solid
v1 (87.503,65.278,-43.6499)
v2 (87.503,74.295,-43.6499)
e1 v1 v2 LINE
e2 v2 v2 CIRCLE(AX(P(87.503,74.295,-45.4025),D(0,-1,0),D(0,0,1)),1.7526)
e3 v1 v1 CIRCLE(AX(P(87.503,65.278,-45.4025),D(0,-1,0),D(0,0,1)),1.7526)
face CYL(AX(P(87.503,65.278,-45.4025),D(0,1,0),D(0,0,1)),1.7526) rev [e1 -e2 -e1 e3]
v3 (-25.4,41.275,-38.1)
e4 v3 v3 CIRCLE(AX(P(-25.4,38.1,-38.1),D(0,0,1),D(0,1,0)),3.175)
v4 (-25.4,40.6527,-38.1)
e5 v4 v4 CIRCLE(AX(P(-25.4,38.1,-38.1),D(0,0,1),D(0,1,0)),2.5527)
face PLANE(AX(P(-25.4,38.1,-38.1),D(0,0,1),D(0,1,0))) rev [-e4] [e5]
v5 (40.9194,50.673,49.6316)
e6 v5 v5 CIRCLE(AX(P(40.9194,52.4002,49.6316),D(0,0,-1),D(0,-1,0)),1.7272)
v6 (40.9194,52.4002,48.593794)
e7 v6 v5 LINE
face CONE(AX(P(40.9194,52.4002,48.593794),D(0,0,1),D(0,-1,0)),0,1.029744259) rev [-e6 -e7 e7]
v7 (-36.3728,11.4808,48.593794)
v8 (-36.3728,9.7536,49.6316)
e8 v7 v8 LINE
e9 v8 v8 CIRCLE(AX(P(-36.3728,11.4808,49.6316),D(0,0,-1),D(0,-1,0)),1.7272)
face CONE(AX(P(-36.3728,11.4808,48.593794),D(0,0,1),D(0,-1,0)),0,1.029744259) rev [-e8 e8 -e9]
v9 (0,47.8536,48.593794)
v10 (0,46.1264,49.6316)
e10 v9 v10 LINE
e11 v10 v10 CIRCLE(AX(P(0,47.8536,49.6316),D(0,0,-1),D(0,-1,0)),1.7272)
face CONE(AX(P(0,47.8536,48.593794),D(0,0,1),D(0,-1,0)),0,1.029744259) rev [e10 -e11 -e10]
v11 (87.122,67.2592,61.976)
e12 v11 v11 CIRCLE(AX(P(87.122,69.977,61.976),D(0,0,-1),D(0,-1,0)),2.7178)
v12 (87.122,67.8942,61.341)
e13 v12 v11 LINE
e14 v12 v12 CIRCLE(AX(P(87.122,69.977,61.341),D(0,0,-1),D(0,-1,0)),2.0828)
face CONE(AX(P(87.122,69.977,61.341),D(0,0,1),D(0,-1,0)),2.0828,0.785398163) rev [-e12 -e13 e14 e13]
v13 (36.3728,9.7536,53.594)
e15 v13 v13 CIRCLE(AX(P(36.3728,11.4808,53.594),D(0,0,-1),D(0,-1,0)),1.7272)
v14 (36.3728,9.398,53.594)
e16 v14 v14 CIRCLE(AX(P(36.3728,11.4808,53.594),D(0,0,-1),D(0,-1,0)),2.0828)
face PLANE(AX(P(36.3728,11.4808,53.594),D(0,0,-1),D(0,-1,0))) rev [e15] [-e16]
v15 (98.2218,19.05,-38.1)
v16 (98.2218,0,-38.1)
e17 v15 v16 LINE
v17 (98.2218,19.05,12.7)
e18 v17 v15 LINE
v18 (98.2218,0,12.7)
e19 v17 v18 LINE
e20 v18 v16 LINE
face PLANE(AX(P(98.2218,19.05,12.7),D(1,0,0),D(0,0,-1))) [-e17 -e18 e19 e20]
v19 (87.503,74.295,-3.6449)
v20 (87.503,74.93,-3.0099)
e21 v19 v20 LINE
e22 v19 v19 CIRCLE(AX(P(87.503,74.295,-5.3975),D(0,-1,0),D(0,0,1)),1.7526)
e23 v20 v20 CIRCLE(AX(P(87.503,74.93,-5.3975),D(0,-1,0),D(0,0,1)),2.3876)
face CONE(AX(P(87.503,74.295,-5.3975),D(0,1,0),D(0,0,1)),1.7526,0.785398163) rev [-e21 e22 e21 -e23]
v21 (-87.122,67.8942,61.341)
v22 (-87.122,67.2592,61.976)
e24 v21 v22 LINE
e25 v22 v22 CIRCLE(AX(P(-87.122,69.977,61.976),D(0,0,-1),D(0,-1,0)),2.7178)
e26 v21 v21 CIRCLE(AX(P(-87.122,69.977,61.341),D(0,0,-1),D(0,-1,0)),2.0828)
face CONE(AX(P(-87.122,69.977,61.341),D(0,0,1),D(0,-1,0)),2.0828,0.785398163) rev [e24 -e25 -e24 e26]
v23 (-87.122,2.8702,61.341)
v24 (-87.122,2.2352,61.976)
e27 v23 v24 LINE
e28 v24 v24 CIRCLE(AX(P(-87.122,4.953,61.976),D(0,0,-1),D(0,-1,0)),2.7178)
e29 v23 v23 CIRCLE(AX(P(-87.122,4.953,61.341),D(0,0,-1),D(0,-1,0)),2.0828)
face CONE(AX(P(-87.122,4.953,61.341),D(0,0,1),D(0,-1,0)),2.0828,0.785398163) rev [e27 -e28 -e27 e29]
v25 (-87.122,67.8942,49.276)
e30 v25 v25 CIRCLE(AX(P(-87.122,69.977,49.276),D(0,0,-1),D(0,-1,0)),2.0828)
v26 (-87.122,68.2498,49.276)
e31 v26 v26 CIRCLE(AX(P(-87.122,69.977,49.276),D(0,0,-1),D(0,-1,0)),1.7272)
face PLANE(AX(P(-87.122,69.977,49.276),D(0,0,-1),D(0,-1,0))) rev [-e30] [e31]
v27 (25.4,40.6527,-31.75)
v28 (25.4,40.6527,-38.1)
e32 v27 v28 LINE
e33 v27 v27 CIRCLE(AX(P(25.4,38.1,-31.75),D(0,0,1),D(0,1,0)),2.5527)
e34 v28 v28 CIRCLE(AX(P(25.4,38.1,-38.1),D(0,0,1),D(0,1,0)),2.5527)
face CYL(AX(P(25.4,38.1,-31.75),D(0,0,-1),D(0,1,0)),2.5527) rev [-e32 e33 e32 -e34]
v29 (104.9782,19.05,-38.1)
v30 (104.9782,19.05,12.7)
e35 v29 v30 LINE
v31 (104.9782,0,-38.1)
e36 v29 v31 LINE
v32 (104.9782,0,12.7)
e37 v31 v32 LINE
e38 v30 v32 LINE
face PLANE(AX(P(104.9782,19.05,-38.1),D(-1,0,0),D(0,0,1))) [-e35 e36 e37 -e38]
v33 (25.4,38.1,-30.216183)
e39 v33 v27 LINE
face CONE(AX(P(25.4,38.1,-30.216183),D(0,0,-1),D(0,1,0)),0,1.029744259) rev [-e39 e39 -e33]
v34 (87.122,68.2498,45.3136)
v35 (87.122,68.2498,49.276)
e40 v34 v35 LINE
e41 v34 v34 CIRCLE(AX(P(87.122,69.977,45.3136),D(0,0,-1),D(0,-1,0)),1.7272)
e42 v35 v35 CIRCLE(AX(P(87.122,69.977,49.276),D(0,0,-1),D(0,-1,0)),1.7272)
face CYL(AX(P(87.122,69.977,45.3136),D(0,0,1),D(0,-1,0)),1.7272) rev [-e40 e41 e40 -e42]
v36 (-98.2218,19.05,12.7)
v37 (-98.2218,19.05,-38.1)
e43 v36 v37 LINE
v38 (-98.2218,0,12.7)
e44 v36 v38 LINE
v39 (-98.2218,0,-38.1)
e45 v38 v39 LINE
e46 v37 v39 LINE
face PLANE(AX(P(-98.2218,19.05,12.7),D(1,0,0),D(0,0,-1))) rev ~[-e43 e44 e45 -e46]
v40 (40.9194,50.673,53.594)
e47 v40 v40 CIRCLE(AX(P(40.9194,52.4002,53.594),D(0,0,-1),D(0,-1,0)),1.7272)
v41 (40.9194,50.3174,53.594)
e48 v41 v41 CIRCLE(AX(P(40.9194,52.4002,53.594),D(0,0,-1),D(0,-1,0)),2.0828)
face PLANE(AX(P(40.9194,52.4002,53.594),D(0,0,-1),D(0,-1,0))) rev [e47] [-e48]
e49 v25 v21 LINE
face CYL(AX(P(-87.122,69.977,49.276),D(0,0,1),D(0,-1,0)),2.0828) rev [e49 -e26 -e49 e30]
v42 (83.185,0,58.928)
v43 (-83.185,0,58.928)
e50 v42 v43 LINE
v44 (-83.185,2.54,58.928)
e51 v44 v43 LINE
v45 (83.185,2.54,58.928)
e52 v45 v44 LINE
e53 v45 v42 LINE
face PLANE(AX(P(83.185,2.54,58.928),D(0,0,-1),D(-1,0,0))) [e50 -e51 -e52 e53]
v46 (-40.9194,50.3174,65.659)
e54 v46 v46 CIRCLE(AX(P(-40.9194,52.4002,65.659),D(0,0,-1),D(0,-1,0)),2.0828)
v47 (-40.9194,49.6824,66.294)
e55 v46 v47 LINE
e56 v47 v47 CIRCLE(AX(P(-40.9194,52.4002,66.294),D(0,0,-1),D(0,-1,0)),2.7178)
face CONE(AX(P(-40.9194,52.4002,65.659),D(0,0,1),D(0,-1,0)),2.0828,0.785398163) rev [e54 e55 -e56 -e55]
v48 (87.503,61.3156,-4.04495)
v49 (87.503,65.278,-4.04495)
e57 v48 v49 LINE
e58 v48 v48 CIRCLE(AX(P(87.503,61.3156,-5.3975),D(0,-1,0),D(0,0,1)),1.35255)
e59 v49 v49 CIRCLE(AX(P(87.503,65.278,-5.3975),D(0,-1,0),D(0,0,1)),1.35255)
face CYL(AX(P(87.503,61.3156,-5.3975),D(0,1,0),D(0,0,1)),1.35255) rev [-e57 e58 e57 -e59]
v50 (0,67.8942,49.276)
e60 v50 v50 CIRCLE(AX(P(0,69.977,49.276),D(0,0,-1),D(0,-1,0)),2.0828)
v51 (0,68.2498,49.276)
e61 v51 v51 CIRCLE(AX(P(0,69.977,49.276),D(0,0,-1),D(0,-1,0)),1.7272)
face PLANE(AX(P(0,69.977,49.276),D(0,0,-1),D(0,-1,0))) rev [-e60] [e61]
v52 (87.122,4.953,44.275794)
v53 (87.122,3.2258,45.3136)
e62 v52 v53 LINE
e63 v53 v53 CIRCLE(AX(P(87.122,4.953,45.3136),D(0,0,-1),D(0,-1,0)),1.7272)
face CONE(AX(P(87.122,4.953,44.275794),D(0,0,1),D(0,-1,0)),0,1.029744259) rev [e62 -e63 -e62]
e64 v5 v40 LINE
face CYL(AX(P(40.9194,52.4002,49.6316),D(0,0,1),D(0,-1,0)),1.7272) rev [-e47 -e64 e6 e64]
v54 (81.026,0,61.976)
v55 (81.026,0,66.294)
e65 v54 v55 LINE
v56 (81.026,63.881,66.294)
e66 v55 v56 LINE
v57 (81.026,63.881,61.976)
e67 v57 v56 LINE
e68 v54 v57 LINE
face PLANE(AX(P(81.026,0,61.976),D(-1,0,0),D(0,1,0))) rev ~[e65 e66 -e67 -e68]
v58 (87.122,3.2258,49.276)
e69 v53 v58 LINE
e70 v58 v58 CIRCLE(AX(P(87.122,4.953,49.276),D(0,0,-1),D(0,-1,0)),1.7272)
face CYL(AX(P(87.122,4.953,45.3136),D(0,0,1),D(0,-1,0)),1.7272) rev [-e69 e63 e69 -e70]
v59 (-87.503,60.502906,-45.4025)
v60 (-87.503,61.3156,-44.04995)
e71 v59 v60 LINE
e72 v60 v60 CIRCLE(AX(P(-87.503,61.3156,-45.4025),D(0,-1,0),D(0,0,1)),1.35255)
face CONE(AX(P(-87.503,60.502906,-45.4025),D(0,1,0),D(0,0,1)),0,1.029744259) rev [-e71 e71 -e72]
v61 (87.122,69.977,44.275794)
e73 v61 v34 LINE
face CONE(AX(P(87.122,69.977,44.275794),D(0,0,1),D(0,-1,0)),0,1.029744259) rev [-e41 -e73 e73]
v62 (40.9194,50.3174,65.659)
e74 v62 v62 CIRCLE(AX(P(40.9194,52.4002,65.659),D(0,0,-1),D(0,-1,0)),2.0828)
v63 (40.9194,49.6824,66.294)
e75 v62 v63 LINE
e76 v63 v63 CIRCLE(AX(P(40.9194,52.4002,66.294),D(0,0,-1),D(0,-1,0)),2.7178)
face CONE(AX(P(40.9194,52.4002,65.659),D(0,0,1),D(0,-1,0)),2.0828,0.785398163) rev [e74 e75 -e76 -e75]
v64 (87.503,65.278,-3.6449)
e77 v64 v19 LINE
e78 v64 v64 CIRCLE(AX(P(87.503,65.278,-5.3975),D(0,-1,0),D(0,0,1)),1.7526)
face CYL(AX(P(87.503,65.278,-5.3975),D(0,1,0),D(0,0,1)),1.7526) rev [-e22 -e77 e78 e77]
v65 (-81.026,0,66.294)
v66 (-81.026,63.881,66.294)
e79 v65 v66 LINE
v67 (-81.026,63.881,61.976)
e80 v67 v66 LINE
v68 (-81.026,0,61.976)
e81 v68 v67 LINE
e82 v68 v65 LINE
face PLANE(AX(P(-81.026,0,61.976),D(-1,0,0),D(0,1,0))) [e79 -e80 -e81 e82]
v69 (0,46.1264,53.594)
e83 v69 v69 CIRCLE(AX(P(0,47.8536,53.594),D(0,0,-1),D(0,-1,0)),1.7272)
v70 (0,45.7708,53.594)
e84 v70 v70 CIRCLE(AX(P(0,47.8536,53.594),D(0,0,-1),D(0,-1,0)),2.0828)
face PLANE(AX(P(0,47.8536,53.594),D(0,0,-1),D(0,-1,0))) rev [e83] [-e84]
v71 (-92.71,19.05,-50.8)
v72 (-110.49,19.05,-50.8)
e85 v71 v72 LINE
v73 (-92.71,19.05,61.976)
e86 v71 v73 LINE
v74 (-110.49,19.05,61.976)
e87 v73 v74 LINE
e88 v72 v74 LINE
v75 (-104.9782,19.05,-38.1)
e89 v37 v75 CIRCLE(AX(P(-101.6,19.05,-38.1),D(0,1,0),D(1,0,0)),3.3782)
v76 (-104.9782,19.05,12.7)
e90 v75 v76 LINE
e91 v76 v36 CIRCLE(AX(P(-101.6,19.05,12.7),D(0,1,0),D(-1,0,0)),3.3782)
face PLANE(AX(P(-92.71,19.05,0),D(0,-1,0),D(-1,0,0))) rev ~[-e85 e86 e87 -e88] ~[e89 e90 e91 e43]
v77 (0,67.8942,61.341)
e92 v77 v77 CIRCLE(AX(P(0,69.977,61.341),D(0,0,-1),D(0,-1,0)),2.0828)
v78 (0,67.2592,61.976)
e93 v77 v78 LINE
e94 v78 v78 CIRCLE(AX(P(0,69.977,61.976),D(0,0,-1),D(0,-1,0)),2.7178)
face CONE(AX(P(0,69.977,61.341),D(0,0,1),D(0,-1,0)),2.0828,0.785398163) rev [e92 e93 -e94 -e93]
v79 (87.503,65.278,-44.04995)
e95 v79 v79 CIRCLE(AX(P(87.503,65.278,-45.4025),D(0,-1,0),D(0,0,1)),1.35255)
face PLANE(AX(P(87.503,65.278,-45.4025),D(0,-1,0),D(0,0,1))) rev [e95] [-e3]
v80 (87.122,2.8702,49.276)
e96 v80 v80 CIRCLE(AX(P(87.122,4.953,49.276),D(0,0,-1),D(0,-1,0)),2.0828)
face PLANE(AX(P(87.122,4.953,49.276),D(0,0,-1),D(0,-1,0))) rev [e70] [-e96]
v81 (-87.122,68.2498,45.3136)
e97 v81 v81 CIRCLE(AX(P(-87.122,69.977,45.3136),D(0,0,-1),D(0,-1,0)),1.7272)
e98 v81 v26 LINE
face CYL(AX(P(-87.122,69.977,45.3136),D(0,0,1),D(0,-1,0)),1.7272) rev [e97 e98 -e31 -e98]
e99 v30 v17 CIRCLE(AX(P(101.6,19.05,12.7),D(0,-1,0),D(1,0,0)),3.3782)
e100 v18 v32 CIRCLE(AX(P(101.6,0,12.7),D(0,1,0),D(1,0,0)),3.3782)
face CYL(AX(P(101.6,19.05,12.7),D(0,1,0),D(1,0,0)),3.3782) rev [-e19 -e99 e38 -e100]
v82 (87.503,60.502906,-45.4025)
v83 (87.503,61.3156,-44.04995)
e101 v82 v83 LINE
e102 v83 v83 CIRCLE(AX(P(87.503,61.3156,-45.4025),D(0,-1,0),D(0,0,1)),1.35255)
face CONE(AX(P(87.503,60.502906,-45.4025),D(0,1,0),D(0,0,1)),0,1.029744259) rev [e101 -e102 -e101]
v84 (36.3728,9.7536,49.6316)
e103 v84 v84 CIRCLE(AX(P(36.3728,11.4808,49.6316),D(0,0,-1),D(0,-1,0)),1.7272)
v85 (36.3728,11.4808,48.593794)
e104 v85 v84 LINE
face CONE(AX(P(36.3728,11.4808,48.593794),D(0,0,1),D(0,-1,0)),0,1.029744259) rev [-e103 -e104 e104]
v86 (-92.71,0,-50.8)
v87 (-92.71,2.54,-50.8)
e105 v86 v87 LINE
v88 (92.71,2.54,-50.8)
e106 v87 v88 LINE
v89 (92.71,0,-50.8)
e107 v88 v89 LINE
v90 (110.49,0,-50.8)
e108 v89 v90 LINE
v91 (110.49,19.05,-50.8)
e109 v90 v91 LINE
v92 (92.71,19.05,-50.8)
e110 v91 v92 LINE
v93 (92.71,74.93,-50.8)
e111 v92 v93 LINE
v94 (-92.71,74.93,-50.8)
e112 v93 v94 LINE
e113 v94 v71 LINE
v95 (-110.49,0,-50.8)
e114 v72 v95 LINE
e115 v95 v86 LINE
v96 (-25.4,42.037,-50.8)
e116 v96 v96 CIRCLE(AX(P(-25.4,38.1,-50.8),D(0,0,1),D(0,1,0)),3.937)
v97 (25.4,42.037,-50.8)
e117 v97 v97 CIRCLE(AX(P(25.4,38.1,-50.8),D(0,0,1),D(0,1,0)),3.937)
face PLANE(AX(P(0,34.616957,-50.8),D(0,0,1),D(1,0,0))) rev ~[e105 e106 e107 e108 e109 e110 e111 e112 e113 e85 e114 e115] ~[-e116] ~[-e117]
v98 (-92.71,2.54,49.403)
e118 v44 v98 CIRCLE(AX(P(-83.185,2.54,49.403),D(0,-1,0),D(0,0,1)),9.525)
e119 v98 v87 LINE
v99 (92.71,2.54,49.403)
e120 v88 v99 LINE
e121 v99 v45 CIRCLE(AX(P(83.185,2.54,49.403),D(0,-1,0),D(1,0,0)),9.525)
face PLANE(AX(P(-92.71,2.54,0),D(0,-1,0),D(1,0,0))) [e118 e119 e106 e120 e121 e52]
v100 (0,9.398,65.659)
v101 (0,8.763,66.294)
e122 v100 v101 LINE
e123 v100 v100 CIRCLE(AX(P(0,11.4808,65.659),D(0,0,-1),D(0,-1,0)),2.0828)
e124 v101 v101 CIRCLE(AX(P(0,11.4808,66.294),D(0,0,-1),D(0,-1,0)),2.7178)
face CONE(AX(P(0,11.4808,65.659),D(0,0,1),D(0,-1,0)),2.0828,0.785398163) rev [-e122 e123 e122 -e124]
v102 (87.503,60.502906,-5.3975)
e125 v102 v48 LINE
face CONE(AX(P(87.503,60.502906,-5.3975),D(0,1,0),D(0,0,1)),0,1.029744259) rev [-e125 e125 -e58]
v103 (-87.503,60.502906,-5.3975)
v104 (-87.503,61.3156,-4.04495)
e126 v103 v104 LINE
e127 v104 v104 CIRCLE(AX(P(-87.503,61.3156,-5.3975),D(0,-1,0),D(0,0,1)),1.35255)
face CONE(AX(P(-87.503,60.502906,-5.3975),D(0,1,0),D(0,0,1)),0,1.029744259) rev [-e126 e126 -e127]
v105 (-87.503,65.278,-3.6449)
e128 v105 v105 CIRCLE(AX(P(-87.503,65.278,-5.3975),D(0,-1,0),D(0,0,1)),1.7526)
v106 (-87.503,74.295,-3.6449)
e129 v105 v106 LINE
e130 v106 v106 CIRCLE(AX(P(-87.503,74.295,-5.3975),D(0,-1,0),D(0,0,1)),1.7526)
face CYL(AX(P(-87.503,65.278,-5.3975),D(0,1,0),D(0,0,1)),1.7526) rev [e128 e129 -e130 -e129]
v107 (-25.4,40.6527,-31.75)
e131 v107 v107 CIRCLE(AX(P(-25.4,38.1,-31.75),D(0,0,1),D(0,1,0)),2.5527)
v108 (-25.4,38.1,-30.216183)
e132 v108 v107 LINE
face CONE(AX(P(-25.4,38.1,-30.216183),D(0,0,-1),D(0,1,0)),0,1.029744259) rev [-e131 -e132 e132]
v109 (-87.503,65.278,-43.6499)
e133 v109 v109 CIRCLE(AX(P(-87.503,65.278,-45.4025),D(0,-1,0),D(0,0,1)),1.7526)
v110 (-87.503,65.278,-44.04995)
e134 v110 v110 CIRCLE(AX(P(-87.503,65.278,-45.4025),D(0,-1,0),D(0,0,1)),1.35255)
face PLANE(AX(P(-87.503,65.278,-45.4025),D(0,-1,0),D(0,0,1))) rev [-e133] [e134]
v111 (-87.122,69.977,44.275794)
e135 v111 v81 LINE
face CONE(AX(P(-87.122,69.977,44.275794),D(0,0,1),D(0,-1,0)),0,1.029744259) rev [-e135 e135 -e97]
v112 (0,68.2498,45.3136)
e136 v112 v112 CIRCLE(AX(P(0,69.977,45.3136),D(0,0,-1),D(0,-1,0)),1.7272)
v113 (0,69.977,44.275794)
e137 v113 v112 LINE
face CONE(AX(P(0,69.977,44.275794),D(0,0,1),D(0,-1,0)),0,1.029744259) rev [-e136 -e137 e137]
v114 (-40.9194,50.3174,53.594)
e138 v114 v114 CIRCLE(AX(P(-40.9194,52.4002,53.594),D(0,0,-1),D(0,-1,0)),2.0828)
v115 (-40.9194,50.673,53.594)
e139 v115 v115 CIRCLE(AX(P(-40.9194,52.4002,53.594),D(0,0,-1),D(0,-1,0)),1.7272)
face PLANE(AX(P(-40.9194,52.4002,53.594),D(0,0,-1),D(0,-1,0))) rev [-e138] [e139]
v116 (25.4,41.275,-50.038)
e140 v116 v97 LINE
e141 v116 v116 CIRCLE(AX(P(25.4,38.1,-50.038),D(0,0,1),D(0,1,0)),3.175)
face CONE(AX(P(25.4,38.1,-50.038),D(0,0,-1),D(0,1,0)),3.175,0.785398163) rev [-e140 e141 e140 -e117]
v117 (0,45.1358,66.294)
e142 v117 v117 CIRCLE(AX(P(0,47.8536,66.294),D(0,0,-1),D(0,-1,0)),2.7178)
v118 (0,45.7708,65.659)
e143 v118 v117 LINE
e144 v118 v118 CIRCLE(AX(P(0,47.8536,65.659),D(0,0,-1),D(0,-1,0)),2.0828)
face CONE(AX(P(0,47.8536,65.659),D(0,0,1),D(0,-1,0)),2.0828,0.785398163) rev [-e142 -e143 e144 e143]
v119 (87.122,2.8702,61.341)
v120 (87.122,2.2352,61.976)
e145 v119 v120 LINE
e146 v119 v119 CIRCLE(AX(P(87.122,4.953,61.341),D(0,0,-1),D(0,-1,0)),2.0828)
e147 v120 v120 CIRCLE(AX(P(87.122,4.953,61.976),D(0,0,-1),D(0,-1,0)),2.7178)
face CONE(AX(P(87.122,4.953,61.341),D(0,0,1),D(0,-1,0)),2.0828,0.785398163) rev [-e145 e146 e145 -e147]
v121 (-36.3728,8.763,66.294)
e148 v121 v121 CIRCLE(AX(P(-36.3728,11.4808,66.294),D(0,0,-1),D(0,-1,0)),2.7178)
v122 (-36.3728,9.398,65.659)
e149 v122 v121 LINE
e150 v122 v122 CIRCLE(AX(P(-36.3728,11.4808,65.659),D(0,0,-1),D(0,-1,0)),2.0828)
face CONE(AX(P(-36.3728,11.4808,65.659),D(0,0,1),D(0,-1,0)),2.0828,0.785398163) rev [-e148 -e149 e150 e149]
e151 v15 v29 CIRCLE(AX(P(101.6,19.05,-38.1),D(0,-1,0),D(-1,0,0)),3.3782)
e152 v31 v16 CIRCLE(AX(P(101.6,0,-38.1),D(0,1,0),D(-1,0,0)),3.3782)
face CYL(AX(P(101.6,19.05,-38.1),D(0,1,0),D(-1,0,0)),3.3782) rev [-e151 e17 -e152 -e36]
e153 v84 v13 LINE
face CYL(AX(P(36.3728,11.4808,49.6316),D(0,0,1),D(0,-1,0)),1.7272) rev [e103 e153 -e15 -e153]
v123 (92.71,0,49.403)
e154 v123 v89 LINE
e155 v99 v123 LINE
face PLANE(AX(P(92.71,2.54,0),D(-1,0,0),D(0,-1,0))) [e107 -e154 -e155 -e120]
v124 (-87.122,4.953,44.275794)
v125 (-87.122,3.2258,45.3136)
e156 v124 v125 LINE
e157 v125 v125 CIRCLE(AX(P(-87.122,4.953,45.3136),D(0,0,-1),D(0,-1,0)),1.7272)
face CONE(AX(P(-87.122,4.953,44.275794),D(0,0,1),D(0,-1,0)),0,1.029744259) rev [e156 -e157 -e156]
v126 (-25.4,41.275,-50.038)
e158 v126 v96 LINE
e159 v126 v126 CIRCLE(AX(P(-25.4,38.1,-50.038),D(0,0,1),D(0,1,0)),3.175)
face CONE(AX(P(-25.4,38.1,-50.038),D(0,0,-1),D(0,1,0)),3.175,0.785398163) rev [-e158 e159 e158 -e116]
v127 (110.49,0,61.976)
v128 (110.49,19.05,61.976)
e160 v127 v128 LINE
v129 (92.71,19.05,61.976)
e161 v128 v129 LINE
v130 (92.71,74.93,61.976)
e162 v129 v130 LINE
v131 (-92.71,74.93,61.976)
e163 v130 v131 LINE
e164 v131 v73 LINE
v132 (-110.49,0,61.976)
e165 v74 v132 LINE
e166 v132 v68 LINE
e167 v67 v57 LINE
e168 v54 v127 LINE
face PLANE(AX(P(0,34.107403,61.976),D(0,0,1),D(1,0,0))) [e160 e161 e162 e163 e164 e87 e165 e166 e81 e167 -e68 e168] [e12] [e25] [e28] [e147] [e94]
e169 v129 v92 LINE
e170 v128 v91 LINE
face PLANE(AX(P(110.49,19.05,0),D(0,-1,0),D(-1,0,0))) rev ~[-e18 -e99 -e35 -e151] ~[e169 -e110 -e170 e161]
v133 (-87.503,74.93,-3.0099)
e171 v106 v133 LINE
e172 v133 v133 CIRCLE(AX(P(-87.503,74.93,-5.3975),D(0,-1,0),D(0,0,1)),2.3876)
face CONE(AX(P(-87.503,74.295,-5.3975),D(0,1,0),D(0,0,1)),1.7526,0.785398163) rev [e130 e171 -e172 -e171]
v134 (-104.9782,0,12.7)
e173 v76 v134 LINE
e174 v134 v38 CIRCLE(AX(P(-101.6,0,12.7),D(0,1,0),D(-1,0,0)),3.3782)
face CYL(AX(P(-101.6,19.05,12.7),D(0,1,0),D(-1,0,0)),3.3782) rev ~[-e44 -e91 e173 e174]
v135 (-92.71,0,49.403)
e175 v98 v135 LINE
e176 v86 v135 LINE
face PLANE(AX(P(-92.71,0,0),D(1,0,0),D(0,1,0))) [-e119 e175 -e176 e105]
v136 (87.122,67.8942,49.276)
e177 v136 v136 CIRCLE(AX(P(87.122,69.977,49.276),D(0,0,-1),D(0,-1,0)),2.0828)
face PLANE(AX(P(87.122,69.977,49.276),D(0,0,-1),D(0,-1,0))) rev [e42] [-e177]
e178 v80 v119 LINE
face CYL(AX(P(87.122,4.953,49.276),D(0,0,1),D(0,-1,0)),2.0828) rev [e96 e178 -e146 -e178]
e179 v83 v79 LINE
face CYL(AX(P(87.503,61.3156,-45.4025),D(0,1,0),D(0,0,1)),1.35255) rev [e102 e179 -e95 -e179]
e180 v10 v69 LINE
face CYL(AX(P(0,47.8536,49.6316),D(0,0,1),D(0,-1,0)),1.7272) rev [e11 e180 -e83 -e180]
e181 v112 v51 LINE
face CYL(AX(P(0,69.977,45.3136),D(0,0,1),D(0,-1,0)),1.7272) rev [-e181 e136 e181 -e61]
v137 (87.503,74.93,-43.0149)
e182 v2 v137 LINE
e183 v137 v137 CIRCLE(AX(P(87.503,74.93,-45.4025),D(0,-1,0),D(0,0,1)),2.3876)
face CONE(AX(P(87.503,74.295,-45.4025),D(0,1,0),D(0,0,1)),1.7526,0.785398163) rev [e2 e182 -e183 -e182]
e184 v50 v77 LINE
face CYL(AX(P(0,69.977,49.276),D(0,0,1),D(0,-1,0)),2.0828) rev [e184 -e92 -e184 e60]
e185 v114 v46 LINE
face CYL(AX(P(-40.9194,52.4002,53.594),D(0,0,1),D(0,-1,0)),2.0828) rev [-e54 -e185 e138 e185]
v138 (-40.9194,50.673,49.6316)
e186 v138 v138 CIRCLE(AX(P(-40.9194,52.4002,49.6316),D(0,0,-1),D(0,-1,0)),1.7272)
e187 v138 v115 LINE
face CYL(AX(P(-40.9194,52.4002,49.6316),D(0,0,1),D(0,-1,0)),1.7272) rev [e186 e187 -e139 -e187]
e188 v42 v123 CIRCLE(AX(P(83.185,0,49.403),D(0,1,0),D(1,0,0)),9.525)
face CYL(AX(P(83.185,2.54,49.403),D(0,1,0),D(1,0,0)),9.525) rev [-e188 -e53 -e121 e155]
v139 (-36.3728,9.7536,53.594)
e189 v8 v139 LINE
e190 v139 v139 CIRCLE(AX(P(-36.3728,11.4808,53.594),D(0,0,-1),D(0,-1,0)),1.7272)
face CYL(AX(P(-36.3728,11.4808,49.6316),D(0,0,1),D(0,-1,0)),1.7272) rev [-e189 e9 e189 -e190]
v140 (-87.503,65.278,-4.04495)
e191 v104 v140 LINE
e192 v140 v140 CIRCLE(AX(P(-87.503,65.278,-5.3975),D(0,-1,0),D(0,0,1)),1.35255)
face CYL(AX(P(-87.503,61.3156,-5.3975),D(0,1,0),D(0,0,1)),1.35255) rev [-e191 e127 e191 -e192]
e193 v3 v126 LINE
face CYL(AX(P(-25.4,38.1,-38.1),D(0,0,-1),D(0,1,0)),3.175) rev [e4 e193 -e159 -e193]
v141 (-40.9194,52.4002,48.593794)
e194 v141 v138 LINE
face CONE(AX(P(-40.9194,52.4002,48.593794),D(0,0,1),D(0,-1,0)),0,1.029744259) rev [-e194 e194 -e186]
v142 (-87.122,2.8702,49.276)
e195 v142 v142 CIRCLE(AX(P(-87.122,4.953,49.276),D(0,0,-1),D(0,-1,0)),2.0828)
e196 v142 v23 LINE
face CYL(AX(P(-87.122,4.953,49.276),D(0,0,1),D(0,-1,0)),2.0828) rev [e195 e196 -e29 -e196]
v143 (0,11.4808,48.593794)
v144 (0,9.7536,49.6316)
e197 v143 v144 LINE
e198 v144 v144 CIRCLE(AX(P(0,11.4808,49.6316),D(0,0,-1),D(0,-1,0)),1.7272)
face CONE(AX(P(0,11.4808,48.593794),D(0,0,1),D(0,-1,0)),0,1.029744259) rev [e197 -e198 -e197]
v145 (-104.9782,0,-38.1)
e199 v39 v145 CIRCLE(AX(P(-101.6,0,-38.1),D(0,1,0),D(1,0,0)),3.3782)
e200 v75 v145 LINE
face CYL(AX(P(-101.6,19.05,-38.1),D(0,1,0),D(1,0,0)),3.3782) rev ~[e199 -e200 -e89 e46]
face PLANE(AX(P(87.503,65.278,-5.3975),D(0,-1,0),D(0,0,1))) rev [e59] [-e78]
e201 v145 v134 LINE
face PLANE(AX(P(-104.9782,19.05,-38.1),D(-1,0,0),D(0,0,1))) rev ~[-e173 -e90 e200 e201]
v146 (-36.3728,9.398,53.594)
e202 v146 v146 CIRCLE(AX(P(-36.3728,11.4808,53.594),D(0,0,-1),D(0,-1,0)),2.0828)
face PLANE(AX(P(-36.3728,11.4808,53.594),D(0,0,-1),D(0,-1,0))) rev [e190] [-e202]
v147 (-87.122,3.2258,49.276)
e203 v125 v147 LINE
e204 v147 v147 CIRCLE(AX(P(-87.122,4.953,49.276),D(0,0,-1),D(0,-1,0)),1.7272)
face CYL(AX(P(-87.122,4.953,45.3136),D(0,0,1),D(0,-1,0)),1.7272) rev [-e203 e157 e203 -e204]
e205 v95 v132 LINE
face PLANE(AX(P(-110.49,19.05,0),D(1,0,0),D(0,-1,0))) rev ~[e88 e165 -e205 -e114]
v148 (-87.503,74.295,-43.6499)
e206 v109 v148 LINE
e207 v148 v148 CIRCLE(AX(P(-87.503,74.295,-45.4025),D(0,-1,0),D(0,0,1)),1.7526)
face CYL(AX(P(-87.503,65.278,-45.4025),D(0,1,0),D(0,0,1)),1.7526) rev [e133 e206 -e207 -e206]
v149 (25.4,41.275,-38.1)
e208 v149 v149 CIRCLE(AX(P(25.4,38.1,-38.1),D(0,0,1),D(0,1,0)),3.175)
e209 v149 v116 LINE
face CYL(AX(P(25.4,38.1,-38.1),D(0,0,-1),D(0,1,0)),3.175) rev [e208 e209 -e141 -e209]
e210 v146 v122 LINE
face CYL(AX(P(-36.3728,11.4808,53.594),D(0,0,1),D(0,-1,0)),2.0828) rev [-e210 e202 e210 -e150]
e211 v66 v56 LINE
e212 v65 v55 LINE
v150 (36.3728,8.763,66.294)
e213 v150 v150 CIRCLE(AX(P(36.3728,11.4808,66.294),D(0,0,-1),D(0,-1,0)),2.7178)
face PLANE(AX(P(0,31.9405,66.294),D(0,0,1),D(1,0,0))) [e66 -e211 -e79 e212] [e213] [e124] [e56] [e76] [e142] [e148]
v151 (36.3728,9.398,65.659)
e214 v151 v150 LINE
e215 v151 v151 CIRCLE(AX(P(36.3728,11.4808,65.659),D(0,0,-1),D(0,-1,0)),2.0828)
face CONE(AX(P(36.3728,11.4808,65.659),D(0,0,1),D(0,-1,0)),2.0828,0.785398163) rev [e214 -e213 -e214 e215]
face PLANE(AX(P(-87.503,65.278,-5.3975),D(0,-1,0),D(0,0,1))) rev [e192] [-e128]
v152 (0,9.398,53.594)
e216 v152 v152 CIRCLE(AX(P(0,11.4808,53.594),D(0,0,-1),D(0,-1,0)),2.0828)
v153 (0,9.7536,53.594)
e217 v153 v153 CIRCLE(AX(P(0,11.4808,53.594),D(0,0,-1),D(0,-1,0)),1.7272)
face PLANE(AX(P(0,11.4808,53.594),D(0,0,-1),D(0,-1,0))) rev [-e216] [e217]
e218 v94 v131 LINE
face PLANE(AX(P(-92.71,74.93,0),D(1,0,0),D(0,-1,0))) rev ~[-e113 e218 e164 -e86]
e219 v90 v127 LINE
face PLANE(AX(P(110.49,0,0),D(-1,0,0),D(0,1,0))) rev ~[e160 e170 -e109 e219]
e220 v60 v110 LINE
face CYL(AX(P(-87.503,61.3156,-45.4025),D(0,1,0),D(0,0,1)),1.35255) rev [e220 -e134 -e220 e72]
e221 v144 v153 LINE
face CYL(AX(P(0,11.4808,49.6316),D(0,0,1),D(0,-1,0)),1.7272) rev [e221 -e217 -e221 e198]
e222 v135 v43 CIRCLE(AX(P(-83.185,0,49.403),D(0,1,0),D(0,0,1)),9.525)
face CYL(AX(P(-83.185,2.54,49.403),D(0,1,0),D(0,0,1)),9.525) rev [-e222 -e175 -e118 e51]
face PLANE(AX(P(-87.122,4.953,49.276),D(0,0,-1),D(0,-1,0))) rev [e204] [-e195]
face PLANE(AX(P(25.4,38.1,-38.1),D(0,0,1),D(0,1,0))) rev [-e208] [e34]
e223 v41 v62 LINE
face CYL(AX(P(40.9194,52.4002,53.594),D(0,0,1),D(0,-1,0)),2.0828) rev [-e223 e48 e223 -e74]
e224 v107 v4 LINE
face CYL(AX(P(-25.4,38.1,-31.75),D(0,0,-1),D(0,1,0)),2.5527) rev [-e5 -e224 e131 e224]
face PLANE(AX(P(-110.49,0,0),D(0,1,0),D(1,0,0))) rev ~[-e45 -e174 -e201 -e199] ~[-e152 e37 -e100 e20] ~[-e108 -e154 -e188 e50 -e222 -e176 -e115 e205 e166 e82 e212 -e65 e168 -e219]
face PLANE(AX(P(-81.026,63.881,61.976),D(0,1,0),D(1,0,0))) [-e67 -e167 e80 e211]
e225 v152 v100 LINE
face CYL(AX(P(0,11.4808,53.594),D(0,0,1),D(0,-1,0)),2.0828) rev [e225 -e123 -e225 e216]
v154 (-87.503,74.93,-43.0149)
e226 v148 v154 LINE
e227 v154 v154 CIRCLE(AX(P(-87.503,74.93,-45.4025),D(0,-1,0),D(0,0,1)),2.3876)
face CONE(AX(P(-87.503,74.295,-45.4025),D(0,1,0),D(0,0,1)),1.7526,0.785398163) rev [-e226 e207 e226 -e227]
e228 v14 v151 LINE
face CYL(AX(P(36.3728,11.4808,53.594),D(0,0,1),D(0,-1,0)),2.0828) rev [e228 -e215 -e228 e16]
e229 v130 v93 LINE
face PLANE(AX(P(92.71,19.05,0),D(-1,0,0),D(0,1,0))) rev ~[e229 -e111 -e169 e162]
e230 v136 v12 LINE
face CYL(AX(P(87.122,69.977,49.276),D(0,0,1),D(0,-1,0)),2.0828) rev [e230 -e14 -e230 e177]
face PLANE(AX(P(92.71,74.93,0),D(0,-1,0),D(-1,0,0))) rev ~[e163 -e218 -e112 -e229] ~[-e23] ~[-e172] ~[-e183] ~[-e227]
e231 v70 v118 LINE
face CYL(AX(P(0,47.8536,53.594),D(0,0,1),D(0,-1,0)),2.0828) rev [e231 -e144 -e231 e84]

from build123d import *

# Parameters (mm, degrees)
BOSS_EXTRUDE1_DEPTH              = 50.8
F_6_32_TAPPED_HOLE1_AT_2_COUNT   = 2
F_6_32_TAPPED_HOLE1_AT_2_PITCH   = 40.005
F_6_32_TAPPED_HOLE1_AT_3_COUNT   = 2
F_6_32_TAPPED_HOLE1_AT_3_PITCH   = 179.52019402
F_6_32_TAPPED_HOLE1_AT_4_COUNT   = 2
F_6_32_TAPPED_HOLE1_AT_4_PITCH   = 175.006
BOSS_EXTRUDE2_DEPTH              = 61.976
CUT_EXTRUDE2_DEPTH               = 20.05
F_8_32_TAPPED_HOLE1_AT_2_COUNT   = 2
F_8_32_TAPPED_HOLE1_AT_2_PITCH   = 65.024
F_8_32_TAPPED_HOLE1_AT_3_COUNT   = 2
F_8_32_TAPPED_HOLE1_AT_3_PITCH   = 185.981429482
F_8_32_TAPPED_HOLE1_AT_4_COUNT   = 2
F_8_32_TAPPED_HOLE1_AT_4_PITCH   = 174.244
F_8_32_TAPPED_HOLE1_AT_5_COUNT   = 2
F_8_32_TAPPED_HOLE1_AT_5_PITCH   = 87.122
SKETCH13_W                       = 162.052
SKETCH13_H                       = 63.881
BOSS_EXTRUDE4_DEPTH              = 4.318
F_8_32_TAPPED_HOLE2_AT_2_COUNT   = 2
F_8_32_TAPPED_HOLE2_AT_2_PITCH   = 41.171214069
F_8_32_TAPPED_HOLE2_AT_3_COUNT   = 2
F_8_32_TAPPED_HOLE2_AT_3_PITCH   = 87.455597175
F_8_32_TAPPED_HOLE2_AT_4_COUNT   = 2
F_8_32_TAPPED_HOLE2_AT_4_PITCH   = 81.8388
F_8_32_TAPPED_HOLE2_AT_5_COUNT   = 2
F_8_32_TAPPED_HOLE2_AT_5_PITCH   = 57.868770444
F_8_32_TAPPED_HOLE2_AT_6_COUNT   = 2
F_8_32_TAPPED_HOLE2_AT_6_PITCH   = 41.171214069
CUT_EXTRUDE3_DEPTH               = 3.54
F_1_4_20_TAPPED_HOLE1_AT_2_COUNT = 2
F_1_4_20_TAPPED_HOLE1_AT_2_PITCH = 50.8


with BuildPart() as part:
    # Sketch1 → Boss-Extrude1 (new body)
    with BuildSketch(Plane.XY):
        Polygon((-92.71, 2.54), (92.71, 2.54), (92.71, 0), (110.49, 0), (110.49, 19.05), (92.71, 19.05), (92.71, 74.93), (-92.71, 74.93), (-92.71, 19.05), (-110.49, 19.05), (-110.49, 0), (-92.71, 0), align=None)
    extrude(amount=-BOSS_EXTRUDE1_DEPTH)

    # Sketch3 → #6-32 Tapped Hole1 (revolve, cut)
    with BuildSketch(Plane(origin=(-87.503, 74.93, -45.4025), x_dir=(0, 0, 1), z_dir=(1, 0, 0))):
        Polygon((0, 0), (0, 14.42709403), (1.35255, 13.6144), (1.35255, 9.652), (1.7526, 9.652), (1.7526, 0.635), (2.3876, 0), align=None)
    f_6_32_tapped_hole1 = revolve(axis=Axis((-87.503, 81.28, -45.4025), (0, -1, 0)), mode=Mode.SUBTRACT)

    # #6-32 Tapped Hole1 at 2: #6-32 Tapped Hole1 ×2
    with Locations(*[(0, 0, i * F_6_32_TAPPED_HOLE1_AT_2_PITCH) for i in range(1, F_6_32_TAPPED_HOLE1_AT_2_COUNT)]):
        add(f_6_32_tapped_hole1, mode=Mode.SUBTRACT)

    # #6-32 Tapped Hole1 at 3: #6-32 Tapped Hole1 ×2
    with Locations(*[Vector(0.974854116, 0, 0.22284401) * (i * F_6_32_TAPPED_HOLE1_AT_3_PITCH) for i in range(1, F_6_32_TAPPED_HOLE1_AT_3_COUNT)]):
        add(f_6_32_tapped_hole1, mode=Mode.SUBTRACT)

    # #6-32 Tapped Hole1 at 4: #6-32 Tapped Hole1 ×2
    with Locations(*[(i * F_6_32_TAPPED_HOLE1_AT_4_PITCH, 0, 0) for i in range(1, F_6_32_TAPPED_HOLE1_AT_4_COUNT)]):
        add(f_6_32_tapped_hole1, mode=Mode.SUBTRACT)

    # Sketch5 → Boss-Extrude2 (add)
    with BuildSketch(Plane.XY):
        Polygon((92.71, 74.93), (-92.71, 74.93), (-92.71, 19.05), (-110.49, 19.05), (-110.49, 0), (110.49, 0), (110.49, 19.05), (92.71, 19.05), align=None)
    extrude(amount=BOSS_EXTRUDE2_DEPTH)

    # Sketch16 → Cut-Extrude2 (cut, through all)
    with BuildSketch(Plane(origin=(0, 19.05, 0), x_dir=(1, 0, 0), z_dir=(0, 1, 0))):
        with BuildLine():
            Line((-104.9782, 38.1), (-104.9782, -12.7))
            ThreePointArc((-104.9782, -12.7), (-101.6, -16.0782), (-98.2218, -12.7))
            Line((-98.2218, -12.7), (-98.2218, 38.1))
            ThreePointArc((-98.2218, 38.1), (-101.6, 41.4782), (-104.9782, 38.1))
        make_face()
        with BuildLine():
            Line((104.9782, 38.1), (104.9782, -12.7))
            ThreePointArc((104.9782, -12.7), (101.6, -16.0782), (98.2218, -12.7))
            Line((98.2218, -12.7), (98.2218, 38.1))
            ThreePointArc((98.2218, 38.1), (101.6, 41.4782), (104.9782, 38.1))
        make_face()
    extrude(amount=-CUT_EXTRUDE2_DEPTH, mode=Mode.SUBTRACT)

    # Sketch11 → #8-32 Tapped Hole1 (revolve, cut)
    with BuildSketch(Plane(origin=(-87.122, 69.977, 61.976), x_dir=(0, -1, 0), z_dir=(1, 0, 0))):
        Polygon((0, 0), (0, 17.700206461), (1.7272, 16.6624), (1.7272, 12.7), (2.0828, 12.7), (2.0828, 0.635), (2.7178, 0), align=None)
    f_8_32_tapped_hole1 = revolve(axis=Axis((-87.122, 69.977, 68.326), (0, 0, -1)), mode=Mode.SUBTRACT)

    # #8-32 Tapped Hole1 at 2: #8-32 Tapped Hole1 ×2
    with Locations(*[(0, -i * F_8_32_TAPPED_HOLE1_AT_2_PITCH, 0) for i in range(1, F_8_32_TAPPED_HOLE1_AT_2_COUNT)]):
        add(f_8_32_tapped_hole1, mode=Mode.SUBTRACT)

    # #8-32 Tapped Hole1 at 3: #8-32 Tapped Hole1 ×2
    with Locations(*[Vector(0.936889239, -0.349626305, 0) * (i * F_8_32_TAPPED_HOLE1_AT_3_PITCH) for i in range(1, F_8_32_TAPPED_HOLE1_AT_3_COUNT)]):
        add(f_8_32_tapped_hole1, mode=Mode.SUBTRACT)

    # #8-32 Tapped Hole1 at 4: #8-32 Tapped Hole1 ×2
    with Locations(*[(i * F_8_32_TAPPED_HOLE1_AT_4_PITCH, 0, 0) for i in range(1, F_8_32_TAPPED_HOLE1_AT_4_COUNT)]):
        add(f_8_32_tapped_hole1, mode=Mode.SUBTRACT)

    # #8-32 Tapped Hole1 at 5: #8-32 Tapped Hole1 ×2
    with Locations(*[(i * F_8_32_TAPPED_HOLE1_AT_5_PITCH, 0, 0) for i in range(1, F_8_32_TAPPED_HOLE1_AT_5_COUNT)]):
        add(f_8_32_tapped_hole1, mode=Mode.SUBTRACT)

    # Sketch13 → Boss-Extrude4 (add)
    with BuildSketch(Plane.XY.offset(61.976)):
        with Locations((0, 31.9405)):
            Rectangle(SKETCH13_W, SKETCH13_H)
    extrude(amount=BOSS_EXTRUDE4_DEPTH)

    # Sketch7 → #8-32 Tapped Hole2 (revolve, cut)
    with BuildSketch(Plane(origin=(-40.9194, 52.4002, 66.294), x_dir=(0, -1, 0), z_dir=(1, 0, 0))):
        Polygon((0, 0), (0, 17.700206461), (1.7272, 16.6624), (1.7272, 12.7), (2.0828, 12.7), (2.0828, 0.635), (2.7178, 0), align=None)
    f_8_32_tapped_hole2 = revolve(axis=Axis((-40.9194, 52.4002, 72.644), (0, 0, -1)), mode=Mode.SUBTRACT)

    # #8-32 Tapped Hole2 at 2: #8-32 Tapped Hole2 ×2
    with Locations(*[Vector(0.110431526, -0.993883735, 0) * (i * F_8_32_TAPPED_HOLE2_AT_2_PITCH) for i in range(1, F_8_32_TAPPED_HOLE2_AT_2_COUNT)]):
        add(f_8_32_tapped_hole2, mode=Mode.SUBTRACT)

    # #8-32 Tapped Hole2 at 3: #8-32 Tapped Hole2 ×2
    with Locations(*[Vector(0.883787916, -0.46788772, 0) * (i * F_8_32_TAPPED_HOLE2_AT_3_PITCH) for i in range(1, F_8_32_TAPPED_HOLE2_AT_3_COUNT)]):
        add(f_8_32_tapped_hole2, mode=Mode.SUBTRACT)

    # #8-32 Tapped Hole2 at 4: #8-32 Tapped Hole2 ×2
    with Locations(*[(i * F_8_32_TAPPED_HOLE2_AT_4_PITCH, 0, 0) for i in range(1, F_8_32_TAPPED_HOLE2_AT_4_COUNT)]):
        add(f_8_32_tapped_hole2, mode=Mode.SUBTRACT)

    # #8-32 Tapped Hole2 at 5: #8-32 Tapped Hole2 ×2
    with Locations(*[Vector(0.707106781, -0.707106781, 0) * (i * F_8_32_TAPPED_HOLE2_AT_5_PITCH) for i in range(1, F_8_32_TAPPED_HOLE2_AT_5_COUNT)]):
        add(f_8_32_tapped_hole2, mode=Mode.SUBTRACT)

    # #8-32 Tapped Hole2 at 6: #8-32 Tapped Hole2 ×2
    with Locations(*[Vector(0.993883735, -0.110431526, 0) * (i * F_8_32_TAPPED_HOLE2_AT_6_PITCH) for i in range(1, F_8_32_TAPPED_HOLE2_AT_6_COUNT)]):
        add(f_8_32_tapped_hole2, mode=Mode.SUBTRACT)

    # Sketch17 → Cut-Extrude3 (cut, through all)
    with BuildSketch(Plane.XZ.offset(-2.54)):
        with BuildLine():
            Line((-92.71, 0), (92.71, 0))
            Line((92.71, 0), (92.71, 49.403))
            ThreePointArc((92.71, 49.403), (89.920192091, 56.138192091), (83.185, 58.928))
            Line((83.185, 58.928), (-83.185, 58.928))
            ThreePointArc((-83.185, 58.928), (-89.920192091, 56.138192091), (-92.71, 49.403))
            Line((-92.71, 49.403), (-92.71, 0))
        make_face()
    extrude(amount=CUT_EXTRUDE3_DEPTH, mode=Mode.SUBTRACT)

    # Sketch18 → 1/4-20 Tapped Hole1 (revolve, cut)
    with BuildSketch(Plane(origin=(25.4, 38.1, -50.8), x_dir=(0, 1, 0), z_dir=(1, 0, 0))):
        Polygon((0, 0), (0, 20.583816902), (2.5527, 19.05), (2.5527, 12.7), (3.175, 12.7), (3.175, 0.762), (3.937, 0), align=None)
    f_1_4_20_tapped_hole1 = revolve(axis=Axis((25.4, 38.1, -57.15), (0, 0, 1)), mode=Mode.SUBTRACT)

    # 1/4-20 Tapped Hole1 at 2: 1/4-20 Tapped Hole1 ×2
    with Locations(*[(-i * F_1_4_20_TAPPED_HOLE1_AT_2_PITCH, 0, 0) for i in range(1, F_1_4_20_TAPPED_HOLE1_AT_2_COUNT)]):
        add(f_1_4_20_tapped_hole1, mode=Mode.SUBTRACT)


solid = part.part
